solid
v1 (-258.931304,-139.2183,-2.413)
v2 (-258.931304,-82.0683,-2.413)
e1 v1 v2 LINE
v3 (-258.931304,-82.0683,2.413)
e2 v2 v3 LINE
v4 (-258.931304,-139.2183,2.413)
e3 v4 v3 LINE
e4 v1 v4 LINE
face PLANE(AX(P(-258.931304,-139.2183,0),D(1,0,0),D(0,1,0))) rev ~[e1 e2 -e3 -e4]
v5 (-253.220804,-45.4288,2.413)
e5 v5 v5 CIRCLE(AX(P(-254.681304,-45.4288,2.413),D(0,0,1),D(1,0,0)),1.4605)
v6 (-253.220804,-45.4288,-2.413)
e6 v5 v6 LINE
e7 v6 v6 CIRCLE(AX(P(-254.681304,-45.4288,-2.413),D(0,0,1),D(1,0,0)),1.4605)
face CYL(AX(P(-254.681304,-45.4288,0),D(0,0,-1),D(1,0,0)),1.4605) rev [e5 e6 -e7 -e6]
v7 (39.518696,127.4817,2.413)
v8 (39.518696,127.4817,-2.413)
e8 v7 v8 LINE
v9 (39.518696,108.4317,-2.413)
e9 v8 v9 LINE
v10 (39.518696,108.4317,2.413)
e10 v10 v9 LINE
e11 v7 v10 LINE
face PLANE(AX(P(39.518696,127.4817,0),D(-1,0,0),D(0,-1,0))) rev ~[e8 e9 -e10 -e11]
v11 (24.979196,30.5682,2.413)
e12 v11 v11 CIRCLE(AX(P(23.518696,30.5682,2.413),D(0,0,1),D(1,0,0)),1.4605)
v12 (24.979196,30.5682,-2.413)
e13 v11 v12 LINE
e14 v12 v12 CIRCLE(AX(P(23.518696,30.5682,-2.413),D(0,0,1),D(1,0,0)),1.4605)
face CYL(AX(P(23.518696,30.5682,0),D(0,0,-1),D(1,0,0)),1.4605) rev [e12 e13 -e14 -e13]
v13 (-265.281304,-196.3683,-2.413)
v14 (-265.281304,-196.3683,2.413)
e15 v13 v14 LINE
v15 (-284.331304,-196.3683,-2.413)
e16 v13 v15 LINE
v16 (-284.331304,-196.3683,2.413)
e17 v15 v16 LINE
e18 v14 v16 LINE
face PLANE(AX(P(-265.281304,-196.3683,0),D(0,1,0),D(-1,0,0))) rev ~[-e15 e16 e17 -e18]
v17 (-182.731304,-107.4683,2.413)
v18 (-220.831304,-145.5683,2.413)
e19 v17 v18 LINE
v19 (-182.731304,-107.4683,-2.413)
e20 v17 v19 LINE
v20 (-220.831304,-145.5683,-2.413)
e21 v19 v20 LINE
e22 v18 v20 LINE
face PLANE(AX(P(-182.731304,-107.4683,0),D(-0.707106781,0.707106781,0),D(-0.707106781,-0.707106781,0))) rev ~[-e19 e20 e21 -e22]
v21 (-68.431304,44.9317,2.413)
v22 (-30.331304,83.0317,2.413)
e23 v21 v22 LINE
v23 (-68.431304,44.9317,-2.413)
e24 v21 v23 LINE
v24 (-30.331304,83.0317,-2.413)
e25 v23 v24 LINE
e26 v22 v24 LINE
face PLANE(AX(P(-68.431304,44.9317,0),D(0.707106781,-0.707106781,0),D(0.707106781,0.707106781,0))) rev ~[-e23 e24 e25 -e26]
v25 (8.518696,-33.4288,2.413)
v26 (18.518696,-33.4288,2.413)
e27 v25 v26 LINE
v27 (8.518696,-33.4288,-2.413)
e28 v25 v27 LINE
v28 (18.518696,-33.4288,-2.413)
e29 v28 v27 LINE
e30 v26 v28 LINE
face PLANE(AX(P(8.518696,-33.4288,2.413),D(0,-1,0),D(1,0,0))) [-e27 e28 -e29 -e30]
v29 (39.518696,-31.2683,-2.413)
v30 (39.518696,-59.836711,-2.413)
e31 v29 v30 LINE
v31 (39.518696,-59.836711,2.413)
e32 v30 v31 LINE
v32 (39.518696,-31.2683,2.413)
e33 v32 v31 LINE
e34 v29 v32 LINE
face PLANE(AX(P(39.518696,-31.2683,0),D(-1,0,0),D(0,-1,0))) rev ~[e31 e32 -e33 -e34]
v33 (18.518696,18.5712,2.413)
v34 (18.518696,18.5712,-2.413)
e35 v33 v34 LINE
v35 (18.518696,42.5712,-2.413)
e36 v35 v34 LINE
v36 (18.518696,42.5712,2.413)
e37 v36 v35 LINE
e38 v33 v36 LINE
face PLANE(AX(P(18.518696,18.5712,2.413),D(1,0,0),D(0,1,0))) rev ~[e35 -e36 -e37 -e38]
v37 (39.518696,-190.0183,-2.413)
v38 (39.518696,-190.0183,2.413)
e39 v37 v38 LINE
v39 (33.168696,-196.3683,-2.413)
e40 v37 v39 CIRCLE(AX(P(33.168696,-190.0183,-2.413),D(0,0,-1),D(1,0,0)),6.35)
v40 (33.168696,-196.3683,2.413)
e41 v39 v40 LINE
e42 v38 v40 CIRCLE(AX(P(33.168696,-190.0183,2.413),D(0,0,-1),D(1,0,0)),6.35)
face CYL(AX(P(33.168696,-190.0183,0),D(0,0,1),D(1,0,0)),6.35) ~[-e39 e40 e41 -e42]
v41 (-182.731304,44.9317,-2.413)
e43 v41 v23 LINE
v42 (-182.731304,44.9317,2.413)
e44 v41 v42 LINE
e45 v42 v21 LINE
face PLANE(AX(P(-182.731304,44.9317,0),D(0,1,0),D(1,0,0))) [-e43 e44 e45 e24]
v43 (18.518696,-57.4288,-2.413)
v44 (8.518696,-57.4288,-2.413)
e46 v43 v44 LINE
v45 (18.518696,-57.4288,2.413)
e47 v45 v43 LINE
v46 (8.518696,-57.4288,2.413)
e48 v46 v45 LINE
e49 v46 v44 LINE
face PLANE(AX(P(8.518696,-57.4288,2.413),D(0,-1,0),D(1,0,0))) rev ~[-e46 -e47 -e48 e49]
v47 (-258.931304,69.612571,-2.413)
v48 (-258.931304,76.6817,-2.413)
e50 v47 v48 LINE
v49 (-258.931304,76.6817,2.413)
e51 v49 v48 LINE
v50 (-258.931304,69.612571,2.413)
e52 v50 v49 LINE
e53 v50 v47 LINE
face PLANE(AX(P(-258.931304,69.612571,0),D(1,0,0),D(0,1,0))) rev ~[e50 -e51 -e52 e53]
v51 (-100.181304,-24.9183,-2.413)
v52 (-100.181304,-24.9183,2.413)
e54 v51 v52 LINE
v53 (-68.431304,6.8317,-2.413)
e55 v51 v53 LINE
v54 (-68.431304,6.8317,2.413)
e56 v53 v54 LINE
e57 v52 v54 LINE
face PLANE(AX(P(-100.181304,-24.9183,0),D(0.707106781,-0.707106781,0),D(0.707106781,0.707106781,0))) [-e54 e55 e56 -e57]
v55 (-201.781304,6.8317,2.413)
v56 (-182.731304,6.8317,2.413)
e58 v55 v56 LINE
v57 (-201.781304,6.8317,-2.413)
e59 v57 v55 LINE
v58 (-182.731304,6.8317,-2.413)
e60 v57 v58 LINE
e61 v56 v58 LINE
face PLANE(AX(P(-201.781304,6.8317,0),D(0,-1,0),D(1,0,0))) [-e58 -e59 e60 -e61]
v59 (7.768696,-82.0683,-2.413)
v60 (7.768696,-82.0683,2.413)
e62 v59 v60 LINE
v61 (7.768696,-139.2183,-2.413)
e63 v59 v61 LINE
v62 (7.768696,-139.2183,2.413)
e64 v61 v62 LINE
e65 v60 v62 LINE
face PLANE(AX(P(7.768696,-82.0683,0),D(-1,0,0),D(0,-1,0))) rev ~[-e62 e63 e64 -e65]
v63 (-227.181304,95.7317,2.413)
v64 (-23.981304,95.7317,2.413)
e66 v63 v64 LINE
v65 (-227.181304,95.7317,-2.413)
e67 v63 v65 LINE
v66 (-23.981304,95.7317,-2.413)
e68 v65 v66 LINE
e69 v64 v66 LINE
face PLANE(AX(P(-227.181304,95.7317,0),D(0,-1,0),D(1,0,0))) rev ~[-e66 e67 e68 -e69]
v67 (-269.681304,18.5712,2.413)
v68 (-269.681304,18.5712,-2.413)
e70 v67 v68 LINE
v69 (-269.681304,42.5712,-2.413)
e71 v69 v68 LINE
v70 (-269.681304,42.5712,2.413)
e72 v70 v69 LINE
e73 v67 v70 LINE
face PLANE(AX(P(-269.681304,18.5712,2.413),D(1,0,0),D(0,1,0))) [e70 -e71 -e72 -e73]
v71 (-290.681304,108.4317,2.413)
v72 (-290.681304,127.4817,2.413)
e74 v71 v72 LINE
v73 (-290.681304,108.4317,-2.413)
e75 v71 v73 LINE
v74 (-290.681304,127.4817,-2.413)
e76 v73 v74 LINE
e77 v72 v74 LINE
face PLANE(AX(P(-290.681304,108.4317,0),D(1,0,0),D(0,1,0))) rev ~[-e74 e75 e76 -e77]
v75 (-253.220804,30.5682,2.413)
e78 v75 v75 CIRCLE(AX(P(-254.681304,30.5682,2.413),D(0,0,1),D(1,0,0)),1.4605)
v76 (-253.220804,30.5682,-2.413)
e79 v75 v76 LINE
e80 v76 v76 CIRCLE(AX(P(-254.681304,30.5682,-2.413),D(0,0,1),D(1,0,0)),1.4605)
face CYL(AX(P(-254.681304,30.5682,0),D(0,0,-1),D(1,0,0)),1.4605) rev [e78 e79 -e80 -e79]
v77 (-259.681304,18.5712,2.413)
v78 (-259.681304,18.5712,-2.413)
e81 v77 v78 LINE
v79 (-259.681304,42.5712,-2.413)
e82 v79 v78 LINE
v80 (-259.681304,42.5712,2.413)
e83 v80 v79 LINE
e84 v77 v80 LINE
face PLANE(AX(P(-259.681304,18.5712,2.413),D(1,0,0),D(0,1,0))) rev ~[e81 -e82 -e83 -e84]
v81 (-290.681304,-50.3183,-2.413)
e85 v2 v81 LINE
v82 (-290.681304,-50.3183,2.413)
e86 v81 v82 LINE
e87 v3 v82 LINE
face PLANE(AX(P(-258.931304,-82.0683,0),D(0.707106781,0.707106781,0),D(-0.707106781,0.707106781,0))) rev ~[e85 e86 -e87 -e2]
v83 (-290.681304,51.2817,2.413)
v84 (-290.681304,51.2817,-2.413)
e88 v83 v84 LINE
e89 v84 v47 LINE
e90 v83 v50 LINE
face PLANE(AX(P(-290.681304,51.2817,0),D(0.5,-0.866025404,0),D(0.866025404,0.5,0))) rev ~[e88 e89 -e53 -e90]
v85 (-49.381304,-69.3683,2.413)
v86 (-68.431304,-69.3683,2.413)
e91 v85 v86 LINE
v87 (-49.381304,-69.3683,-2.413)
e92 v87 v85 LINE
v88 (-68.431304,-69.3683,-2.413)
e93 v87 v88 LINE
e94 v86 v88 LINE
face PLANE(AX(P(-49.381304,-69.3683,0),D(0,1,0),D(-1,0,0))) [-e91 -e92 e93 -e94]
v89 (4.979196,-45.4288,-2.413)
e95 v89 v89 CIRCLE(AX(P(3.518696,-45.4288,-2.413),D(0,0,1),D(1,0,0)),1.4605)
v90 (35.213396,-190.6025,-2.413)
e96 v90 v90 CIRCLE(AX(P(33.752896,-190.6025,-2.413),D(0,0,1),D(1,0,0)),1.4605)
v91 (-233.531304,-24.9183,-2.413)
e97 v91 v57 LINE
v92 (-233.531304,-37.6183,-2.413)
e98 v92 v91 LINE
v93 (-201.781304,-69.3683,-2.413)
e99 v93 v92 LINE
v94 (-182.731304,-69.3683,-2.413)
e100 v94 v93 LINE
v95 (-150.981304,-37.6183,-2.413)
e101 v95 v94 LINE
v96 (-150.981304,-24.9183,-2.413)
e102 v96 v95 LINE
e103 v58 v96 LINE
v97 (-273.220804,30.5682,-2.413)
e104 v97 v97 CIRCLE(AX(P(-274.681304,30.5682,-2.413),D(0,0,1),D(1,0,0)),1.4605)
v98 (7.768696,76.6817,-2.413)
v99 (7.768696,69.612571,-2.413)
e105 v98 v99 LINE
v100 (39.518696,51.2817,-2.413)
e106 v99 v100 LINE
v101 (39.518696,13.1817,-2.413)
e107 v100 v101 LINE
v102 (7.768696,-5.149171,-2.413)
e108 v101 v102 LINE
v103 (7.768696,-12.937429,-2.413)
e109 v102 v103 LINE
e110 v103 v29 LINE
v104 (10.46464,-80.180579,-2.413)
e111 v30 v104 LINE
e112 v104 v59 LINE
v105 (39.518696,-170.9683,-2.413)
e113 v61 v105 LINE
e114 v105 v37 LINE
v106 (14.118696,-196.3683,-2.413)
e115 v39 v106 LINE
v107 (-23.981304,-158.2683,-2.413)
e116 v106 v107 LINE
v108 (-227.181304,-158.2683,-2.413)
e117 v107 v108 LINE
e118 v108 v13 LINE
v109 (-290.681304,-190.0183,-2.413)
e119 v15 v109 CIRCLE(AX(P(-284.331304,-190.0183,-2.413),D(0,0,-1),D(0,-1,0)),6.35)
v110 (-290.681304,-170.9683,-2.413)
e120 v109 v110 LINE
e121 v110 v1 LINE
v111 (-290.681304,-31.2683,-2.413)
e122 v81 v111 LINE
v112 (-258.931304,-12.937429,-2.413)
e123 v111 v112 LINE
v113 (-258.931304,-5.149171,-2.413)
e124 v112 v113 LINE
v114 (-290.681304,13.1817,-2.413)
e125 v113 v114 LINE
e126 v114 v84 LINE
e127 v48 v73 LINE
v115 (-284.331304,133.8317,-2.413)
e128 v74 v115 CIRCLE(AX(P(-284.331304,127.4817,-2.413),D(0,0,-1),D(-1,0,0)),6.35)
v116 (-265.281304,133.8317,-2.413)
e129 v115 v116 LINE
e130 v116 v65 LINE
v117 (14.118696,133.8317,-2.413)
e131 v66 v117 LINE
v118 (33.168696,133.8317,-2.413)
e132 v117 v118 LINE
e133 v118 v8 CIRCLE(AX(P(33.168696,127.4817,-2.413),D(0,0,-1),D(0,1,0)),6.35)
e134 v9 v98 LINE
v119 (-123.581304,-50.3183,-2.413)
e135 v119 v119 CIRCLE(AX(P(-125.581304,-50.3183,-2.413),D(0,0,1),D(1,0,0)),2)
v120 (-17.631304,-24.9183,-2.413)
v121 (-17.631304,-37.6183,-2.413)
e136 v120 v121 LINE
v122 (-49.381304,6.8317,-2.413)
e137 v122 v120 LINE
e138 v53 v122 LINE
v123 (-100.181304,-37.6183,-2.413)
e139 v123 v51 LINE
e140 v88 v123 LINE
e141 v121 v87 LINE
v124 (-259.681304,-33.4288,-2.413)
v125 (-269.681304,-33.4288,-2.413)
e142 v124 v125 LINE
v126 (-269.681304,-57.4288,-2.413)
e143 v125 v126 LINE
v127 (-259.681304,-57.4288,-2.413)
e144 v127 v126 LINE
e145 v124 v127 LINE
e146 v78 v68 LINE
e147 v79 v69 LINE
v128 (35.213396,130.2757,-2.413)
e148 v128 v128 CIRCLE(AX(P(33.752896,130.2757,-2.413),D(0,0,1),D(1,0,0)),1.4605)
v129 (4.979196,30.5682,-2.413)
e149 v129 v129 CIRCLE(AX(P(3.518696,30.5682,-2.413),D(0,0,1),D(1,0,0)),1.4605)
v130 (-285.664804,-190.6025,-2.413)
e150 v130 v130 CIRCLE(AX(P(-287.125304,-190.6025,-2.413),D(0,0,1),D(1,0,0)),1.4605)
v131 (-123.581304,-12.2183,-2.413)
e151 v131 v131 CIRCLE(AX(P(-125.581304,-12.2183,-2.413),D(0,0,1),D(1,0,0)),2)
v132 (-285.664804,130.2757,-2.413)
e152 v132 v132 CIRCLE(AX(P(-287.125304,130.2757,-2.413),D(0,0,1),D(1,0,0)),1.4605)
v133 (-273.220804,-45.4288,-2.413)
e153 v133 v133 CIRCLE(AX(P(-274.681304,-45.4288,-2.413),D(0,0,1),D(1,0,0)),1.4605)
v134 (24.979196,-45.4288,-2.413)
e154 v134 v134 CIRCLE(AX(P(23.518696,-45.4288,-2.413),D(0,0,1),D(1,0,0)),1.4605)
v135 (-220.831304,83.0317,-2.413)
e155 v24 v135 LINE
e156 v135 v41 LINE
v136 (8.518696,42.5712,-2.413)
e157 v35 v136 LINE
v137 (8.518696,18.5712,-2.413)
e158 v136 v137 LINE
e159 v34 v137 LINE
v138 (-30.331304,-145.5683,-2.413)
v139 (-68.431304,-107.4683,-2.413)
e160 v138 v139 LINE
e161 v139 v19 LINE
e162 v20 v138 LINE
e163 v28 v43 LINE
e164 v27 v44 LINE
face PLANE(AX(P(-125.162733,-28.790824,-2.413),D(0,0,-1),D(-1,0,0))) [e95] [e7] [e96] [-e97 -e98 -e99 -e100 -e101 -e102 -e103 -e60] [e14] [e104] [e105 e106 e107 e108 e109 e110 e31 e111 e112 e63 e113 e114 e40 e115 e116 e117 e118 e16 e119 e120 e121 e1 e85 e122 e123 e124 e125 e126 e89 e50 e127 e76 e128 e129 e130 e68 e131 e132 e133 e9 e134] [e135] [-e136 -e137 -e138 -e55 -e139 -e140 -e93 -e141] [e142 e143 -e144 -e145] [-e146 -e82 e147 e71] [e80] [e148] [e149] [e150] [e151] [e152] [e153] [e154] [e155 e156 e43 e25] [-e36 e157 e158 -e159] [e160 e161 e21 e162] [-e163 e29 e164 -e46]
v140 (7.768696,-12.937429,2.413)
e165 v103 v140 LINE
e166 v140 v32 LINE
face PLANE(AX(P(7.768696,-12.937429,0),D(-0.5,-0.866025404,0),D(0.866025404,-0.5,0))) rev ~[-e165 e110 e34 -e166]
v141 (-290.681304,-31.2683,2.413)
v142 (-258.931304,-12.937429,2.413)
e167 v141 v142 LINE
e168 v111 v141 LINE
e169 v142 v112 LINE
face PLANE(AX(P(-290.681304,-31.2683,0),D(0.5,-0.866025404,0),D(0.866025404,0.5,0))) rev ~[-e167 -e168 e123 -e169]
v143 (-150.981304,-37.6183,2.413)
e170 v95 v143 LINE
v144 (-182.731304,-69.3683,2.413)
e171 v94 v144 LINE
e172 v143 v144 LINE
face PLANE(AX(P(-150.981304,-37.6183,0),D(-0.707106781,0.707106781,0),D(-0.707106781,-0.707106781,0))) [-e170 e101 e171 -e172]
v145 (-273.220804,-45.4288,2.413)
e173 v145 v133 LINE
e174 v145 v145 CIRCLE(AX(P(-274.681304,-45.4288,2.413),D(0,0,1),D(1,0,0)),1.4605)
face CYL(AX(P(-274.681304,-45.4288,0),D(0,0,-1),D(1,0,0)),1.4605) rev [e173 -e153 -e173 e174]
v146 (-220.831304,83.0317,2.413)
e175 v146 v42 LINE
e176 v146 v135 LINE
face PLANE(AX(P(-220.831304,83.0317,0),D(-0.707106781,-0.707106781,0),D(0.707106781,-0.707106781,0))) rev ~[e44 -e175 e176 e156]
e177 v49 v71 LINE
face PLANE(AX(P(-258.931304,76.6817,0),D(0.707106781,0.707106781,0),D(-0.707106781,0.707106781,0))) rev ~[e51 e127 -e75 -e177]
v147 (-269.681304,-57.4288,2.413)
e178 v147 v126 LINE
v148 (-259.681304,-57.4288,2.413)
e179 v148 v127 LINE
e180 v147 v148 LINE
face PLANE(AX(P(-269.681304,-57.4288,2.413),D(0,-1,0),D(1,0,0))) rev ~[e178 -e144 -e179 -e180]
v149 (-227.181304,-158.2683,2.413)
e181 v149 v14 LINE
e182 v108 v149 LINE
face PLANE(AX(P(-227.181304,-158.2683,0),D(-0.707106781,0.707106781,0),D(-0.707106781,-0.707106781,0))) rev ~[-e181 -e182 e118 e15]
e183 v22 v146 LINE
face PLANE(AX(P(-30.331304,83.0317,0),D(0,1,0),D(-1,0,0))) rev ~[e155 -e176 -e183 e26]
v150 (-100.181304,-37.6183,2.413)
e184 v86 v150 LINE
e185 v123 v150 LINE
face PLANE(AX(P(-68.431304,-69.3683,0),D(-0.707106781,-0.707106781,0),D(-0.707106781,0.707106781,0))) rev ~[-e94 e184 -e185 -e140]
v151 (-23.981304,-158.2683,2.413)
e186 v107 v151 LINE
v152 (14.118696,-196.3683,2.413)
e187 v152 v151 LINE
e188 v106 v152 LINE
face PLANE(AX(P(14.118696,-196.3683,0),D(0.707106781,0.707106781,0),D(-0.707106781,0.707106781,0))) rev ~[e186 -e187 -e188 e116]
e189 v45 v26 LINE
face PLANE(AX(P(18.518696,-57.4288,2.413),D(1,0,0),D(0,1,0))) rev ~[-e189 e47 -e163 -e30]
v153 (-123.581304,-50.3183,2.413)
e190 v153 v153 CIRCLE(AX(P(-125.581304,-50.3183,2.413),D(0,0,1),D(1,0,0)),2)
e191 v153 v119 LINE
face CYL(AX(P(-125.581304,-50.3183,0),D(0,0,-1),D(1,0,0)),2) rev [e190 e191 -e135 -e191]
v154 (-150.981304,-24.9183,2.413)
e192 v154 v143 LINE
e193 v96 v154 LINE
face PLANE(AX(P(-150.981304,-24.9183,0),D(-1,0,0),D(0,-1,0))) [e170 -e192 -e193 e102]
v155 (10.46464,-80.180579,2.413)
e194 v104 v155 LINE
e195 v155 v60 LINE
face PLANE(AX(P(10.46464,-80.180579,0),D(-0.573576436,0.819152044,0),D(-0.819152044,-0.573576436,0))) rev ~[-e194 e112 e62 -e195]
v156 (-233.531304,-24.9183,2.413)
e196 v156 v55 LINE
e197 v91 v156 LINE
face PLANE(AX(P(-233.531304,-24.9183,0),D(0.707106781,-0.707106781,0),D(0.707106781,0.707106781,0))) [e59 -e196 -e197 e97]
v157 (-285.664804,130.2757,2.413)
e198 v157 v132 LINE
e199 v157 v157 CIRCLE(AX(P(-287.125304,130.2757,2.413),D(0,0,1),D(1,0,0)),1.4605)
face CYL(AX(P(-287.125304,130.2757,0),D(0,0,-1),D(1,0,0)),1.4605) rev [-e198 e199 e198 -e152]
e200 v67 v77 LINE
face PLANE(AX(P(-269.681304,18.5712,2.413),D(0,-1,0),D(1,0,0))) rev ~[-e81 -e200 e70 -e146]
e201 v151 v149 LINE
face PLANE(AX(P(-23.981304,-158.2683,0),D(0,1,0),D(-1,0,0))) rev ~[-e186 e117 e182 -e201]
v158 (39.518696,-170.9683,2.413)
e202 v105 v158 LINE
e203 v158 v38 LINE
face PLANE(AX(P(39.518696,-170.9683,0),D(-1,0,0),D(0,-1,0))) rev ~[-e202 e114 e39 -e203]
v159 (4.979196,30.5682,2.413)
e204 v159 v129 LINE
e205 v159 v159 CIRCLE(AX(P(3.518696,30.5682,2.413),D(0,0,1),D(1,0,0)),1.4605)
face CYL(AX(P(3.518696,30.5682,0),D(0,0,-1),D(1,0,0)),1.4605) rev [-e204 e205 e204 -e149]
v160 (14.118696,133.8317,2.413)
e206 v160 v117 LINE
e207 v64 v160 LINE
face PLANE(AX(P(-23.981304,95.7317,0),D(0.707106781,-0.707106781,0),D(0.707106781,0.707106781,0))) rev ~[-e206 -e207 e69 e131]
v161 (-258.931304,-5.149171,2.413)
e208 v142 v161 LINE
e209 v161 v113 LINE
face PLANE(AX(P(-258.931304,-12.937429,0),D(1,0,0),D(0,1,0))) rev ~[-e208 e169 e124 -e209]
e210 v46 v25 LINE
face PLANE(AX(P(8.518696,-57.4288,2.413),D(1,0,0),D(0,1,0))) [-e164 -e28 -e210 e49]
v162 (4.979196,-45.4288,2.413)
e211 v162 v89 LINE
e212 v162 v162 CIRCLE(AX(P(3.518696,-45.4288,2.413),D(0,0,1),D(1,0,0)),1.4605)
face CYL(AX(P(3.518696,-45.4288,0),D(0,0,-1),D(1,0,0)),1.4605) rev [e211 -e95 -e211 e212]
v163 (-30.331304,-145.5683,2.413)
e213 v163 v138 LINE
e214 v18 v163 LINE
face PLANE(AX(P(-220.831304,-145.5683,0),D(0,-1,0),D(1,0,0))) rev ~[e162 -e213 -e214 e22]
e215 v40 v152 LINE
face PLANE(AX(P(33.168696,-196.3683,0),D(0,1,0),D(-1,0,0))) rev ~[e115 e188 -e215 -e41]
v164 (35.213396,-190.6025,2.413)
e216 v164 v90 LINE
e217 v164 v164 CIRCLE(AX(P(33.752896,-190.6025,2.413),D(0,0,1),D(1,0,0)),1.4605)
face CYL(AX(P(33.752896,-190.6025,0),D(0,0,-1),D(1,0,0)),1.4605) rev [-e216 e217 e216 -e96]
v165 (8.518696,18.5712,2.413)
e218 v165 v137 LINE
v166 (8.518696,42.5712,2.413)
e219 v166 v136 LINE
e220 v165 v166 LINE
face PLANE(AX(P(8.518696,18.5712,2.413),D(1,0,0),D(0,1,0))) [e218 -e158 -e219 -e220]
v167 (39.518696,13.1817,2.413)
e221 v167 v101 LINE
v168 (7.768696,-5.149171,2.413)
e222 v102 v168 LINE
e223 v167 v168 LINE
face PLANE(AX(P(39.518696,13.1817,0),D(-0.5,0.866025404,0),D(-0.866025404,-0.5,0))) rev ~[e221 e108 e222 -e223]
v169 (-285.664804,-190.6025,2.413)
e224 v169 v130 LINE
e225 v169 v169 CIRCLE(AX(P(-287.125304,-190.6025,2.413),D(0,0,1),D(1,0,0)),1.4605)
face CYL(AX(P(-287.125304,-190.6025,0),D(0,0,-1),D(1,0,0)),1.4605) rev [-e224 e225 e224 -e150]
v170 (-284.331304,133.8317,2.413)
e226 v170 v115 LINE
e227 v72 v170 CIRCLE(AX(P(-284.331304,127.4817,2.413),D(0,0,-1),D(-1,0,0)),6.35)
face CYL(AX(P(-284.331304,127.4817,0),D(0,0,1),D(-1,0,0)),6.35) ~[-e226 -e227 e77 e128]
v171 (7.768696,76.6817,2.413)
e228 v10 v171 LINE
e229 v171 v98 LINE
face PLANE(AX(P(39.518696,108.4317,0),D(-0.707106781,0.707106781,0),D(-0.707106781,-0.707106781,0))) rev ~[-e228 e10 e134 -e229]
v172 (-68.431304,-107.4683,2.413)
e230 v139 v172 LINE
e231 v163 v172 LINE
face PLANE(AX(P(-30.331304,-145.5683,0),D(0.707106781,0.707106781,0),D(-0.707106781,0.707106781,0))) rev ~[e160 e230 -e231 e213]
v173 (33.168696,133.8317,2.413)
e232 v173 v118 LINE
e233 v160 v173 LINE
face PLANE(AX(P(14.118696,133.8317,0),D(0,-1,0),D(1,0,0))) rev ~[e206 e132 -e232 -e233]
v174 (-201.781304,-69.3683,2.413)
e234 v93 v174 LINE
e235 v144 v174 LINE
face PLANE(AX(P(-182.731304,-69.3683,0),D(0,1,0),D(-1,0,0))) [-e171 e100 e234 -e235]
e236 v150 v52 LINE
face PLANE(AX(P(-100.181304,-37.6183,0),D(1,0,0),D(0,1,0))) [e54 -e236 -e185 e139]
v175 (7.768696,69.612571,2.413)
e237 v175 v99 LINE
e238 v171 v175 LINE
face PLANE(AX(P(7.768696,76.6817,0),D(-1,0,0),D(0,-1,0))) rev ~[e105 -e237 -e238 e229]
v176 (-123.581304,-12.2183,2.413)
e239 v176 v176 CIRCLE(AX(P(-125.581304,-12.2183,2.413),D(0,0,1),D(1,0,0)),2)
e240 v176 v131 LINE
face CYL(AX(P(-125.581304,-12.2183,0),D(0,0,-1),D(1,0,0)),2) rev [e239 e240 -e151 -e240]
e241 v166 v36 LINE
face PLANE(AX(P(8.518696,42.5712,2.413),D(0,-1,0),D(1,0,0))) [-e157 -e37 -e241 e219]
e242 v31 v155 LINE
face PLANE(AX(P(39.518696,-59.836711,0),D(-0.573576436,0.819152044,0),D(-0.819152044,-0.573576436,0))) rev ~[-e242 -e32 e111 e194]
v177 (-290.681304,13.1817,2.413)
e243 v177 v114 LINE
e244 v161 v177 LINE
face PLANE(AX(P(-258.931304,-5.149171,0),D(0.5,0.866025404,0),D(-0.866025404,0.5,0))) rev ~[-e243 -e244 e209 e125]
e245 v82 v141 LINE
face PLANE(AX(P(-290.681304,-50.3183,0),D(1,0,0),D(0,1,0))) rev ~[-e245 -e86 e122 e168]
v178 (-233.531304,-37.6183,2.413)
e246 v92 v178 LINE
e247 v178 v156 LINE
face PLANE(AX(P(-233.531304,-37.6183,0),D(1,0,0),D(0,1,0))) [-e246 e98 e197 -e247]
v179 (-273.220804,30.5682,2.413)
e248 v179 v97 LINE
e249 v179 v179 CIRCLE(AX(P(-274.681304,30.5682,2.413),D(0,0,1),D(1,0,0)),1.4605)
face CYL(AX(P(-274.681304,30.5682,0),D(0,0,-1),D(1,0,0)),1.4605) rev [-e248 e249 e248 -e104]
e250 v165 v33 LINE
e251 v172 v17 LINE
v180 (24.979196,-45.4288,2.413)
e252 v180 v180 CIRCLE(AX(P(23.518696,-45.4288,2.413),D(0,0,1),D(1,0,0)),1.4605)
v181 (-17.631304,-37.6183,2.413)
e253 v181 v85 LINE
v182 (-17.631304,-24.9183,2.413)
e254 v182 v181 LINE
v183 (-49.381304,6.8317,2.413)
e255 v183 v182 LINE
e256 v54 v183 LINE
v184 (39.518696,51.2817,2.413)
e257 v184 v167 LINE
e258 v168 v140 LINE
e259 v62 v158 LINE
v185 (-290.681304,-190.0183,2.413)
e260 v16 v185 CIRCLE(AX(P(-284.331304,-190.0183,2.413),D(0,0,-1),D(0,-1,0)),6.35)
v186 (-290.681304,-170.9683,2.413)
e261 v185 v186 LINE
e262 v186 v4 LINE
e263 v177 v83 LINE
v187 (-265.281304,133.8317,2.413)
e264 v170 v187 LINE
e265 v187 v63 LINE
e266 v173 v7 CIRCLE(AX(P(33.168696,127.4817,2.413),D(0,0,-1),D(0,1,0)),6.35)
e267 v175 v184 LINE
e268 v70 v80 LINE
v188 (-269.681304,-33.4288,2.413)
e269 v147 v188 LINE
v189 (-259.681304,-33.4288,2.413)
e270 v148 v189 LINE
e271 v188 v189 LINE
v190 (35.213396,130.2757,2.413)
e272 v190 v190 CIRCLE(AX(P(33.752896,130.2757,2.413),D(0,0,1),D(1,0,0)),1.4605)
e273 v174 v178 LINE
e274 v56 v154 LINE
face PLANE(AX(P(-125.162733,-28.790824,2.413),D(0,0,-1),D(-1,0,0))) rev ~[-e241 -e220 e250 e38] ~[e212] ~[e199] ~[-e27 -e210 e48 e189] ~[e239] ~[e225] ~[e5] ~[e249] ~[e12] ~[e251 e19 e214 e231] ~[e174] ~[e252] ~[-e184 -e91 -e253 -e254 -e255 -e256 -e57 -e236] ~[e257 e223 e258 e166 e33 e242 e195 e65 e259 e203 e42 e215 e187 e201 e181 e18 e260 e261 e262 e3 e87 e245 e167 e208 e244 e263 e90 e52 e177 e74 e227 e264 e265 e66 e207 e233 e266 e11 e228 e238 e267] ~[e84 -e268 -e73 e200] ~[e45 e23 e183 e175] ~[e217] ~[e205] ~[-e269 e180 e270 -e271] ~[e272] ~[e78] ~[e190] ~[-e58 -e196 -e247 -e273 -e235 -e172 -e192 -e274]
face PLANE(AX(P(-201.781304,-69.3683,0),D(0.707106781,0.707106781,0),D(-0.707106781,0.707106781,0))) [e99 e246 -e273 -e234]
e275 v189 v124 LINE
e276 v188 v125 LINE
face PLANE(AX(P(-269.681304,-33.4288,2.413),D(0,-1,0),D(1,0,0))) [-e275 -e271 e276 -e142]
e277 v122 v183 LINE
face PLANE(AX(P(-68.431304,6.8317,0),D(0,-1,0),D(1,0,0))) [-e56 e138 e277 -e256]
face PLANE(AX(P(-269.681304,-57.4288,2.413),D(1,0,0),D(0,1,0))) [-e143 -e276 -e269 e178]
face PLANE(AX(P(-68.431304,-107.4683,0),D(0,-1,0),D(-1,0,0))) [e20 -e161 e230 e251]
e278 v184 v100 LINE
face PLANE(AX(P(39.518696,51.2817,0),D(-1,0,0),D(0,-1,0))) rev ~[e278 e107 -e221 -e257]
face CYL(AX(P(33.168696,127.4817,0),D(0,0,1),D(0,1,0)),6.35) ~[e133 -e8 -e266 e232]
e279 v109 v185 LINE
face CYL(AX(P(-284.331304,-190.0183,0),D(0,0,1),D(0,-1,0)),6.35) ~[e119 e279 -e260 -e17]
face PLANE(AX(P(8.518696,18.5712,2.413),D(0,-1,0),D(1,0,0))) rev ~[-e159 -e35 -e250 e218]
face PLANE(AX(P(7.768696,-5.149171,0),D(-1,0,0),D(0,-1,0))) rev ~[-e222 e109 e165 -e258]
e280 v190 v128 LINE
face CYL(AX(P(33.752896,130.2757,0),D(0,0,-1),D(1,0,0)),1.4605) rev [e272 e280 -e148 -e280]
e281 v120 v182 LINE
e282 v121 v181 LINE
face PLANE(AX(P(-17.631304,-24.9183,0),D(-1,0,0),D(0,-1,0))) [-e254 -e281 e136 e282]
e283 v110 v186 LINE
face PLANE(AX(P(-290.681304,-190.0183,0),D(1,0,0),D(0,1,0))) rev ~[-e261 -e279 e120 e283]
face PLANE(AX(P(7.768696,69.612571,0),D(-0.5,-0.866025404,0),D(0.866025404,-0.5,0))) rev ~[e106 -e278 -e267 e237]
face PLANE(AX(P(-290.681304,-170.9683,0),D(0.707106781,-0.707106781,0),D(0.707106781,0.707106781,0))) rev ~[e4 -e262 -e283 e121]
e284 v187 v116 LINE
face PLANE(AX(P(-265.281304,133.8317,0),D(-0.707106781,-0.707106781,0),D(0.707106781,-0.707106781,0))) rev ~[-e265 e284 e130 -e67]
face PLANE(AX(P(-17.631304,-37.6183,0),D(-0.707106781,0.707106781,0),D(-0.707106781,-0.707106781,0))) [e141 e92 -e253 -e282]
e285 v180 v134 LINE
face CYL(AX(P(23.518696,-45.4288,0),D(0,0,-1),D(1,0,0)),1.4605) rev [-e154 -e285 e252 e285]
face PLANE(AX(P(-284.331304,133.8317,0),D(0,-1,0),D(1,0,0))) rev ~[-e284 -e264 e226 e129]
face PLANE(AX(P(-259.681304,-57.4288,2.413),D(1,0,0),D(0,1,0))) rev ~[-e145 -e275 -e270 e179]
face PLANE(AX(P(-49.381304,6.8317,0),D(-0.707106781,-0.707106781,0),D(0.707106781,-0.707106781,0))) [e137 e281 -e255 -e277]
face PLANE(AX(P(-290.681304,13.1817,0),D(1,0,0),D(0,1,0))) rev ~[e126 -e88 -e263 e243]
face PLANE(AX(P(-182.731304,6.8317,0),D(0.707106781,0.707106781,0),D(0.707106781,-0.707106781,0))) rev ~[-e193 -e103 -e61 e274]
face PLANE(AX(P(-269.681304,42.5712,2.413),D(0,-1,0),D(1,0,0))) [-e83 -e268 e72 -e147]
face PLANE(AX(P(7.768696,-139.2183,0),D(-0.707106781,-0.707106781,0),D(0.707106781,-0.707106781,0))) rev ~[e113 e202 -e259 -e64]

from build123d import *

# Parameters (mm, degrees)
MODEL_R             = 1.4605
MODEL_R_2           = 2
BOSS_EXTRUDE1_DEPTH = 2.413
SKETCH1_W           = 10
SKETCH1_H           = 24
CUT_EXTRUDE1_DEPTH  = 10


with BuildPart() as part:
    # Model → Boss-Extrude1 (new body, symmetric)
    with BuildSketch(Plane.XY):
        with BuildLine():
            Line((-290.681304326, -31.2683), (-258.931304326, -12.937428953))
            Line((-258.931304326, -12.937428953), (-258.931304326, -5.149171047))
            Line((-258.931304326, -5.149171047), (-290.681304326, 13.1817))
            Line((-290.681304326, 13.1817), (-290.681304326, 51.2817))
            Line((-290.681304326, 51.2817), (-258.931304326, 69.612571047))
            Line((-258.931304326, 69.612571047), (-258.931304326, 76.6817))
            Line((-258.931304326, 76.6817), (-290.681304326, 108.4317))
            Line((-290.681304326, 108.4317), (-290.681304326, 127.4817))
            ThreePointArc((-290.681304326, 127.4817), (-288.821432386, 131.971828061), (-284.331304326, 133.8317))
            Line((-284.331304326, 133.8317), (-265.281304326, 133.8317))
            Line((-265.281304326, 133.8317), (-227.181304326, 95.7317))
            Line((-227.181304326, 95.7317), (-23.981304326, 95.7317))
            Line((-23.981304326, 95.7317), (14.118695674, 133.8317))
            Line((14.118695674, 133.8317), (33.168695674, 133.8317))
            ThreePointArc((33.168695674, 133.8317), (37.658823735, 131.971828061), (39.518695674, 127.4817))
            Line((39.518695674, 127.4817), (39.518695674, 108.4317))
            Line((39.518695674, 108.4317), (7.768695674, 76.6817))
            Line((7.768695674, 76.6817), (7.768695674, 69.612571047))
            Line((7.768695674, 69.612571047), (39.518695674, 51.2817))
            Line((39.518695674, 51.2817), (39.518695674, 13.1817))
            Line((39.518695674, 13.1817), (7.768695674, -5.149171047))
            Line((7.768695674, -5.149171047), (7.768695674, -12.937428953))
            Line((7.768695674, -12.937428953), (39.518695674, -31.2683))
            Line((39.518695674, -31.2683), (39.518695674, -59.836710662))
            Line((39.518695674, -59.836710662), (10.464640386, -80.18057919))
            Line((10.464640386, -80.18057919), (7.768695674, -82.0683))
            Line((7.768695674, -82.0683), (7.768695674, -139.2183))
            Line((7.768695674, -139.2183), (39.518695674, -170.9683))
            Line((39.518695674, -170.9683), (39.518695674, -190.0183))
            ThreePointArc((39.518695674, -190.0183), (37.658823735, -194.508428061), (33.168695674, -196.3683))
            Line((33.168695674, -196.3683), (14.118695674, -196.3683))
            Line((14.118695674, -196.3683), (-23.981304326, -158.2683))
            Line((-23.981304326, -158.2683), (-227.181304326, -158.2683))
            Line((-227.181304326, -158.2683), (-265.281304326, -196.3683))
            Line((-265.281304326, -196.3683), (-284.331304326, -196.3683))
            ThreePointArc((-284.331304326, -196.3683), (-288.821432386, -194.508428061), (-290.681304326, -190.0183))
            Line((-290.681304326, -190.0183), (-290.681304326, -170.9683))
            Line((-290.681304326, -170.9683), (-258.931304326, -139.2183))
            Line((-258.931304326, -139.2183), (-258.931304326, -82.0683))
            Line((-258.931304326, -82.0683), (-290.681304326, -50.3183))
            Line((-290.681304326, -50.3183), (-290.681304326, -31.2683))
        make_face()
        with Locations((-287.125304326, -190.6025)):
            Circle(MODEL_R, mode=Mode.SUBTRACT)
        with Locations((33.752895674, -190.6025)):
            Circle(MODEL_R, mode=Mode.SUBTRACT)
        with Locations((33.752895674, 130.2757)):
            Circle(MODEL_R, mode=Mode.SUBTRACT)
        with Locations((-287.125304326, 130.2757)):
            Circle(MODEL_R, mode=Mode.SUBTRACT)
        with Locations((-274.681304256, -45.4288)):
            Circle(MODEL_R, mode=Mode.SUBTRACT)
        with Locations((-254.681304256, -45.4288)):
            Circle(MODEL_R, mode=Mode.SUBTRACT)
        with Locations((23.518695604, -45.4288)):
            Circle(MODEL_R, mode=Mode.SUBTRACT)
        with Locations((3.518695604, -45.4288)):
            Circle(MODEL_R, mode=Mode.SUBTRACT)
        with Locations((23.518695604, 30.5682)):
            Circle(MODEL_R, mode=Mode.SUBTRACT)
        with Locations((3.518695604, 30.5682)):
            Circle(MODEL_R, mode=Mode.SUBTRACT)
        with Locations((-254.681304256, 30.5682)):
            Circle(MODEL_R, mode=Mode.SUBTRACT)
        with Locations((-274.681304256, 30.5682)):
            Circle(MODEL_R, mode=Mode.SUBTRACT)
        with Locations((-125.581304326, -12.2183)):
            Circle(MODEL_R_2, mode=Mode.SUBTRACT)
        with Locations((-125.581304326, -50.3183)):
            Circle(MODEL_R_2, mode=Mode.SUBTRACT)
        Polygon((-30.331304326, -145.5683), (-68.431304326, -107.4683), (-182.731304326, -107.4683), (-220.831304326, -145.5683), align=None, mode=Mode.SUBTRACT)
        Polygon((-220.831304326, 83.0317), (-182.731304326, 44.9317), (-68.431304326, 44.9317), (-30.331304326, 83.0317), align=None, mode=Mode.SUBTRACT)
        Polygon((-201.781304326, -69.3683), (-233.531304326, -37.6183), (-233.531304326, -24.9183), (-201.781304326, 6.8317), (-182.731304326, 6.8317), (-150.981304326, -24.9183), (-150.981304326, -37.6183), (-182.731304326, -69.3683), align=None, mode=Mode.SUBTRACT)
        Polygon((-100.181304326, -37.6183), (-100.181304326, -24.9183), (-68.431304326, 6.8317), (-49.381304326, 6.8317), (-17.631304326, -24.9183), (-17.631304326, -37.6183), (-49.381304326, -69.3683), (-68.431304326, -69.3683), align=None, mode=Mode.SUBTRACT)
    extrude(amount=BOSS_EXTRUDE1_DEPTH, both=True)

    # Sketch1 → Cut-Extrude1 (cut)
    with BuildSketch(Plane.XY.offset(2.413)):
        with Locations((-264.681304256, -45.4288)):
            Rectangle(SKETCH1_W, SKETCH1_H)
        with Locations((-264.681304256, 30.5712)):
            Rectangle(SKETCH1_W, SKETCH1_H)
        with Locations((13.518695604, 30.5712)):
            Rectangle(SKETCH1_W, SKETCH1_H)
        with Locations((13.518695604, -45.4288)):
            Rectangle(SKETCH1_W, SKETCH1_H)
    extrude(amount=-CUT_EXTRUDE1_DEPTH, mode=Mode.SUBTRACT)


solid = part.part
